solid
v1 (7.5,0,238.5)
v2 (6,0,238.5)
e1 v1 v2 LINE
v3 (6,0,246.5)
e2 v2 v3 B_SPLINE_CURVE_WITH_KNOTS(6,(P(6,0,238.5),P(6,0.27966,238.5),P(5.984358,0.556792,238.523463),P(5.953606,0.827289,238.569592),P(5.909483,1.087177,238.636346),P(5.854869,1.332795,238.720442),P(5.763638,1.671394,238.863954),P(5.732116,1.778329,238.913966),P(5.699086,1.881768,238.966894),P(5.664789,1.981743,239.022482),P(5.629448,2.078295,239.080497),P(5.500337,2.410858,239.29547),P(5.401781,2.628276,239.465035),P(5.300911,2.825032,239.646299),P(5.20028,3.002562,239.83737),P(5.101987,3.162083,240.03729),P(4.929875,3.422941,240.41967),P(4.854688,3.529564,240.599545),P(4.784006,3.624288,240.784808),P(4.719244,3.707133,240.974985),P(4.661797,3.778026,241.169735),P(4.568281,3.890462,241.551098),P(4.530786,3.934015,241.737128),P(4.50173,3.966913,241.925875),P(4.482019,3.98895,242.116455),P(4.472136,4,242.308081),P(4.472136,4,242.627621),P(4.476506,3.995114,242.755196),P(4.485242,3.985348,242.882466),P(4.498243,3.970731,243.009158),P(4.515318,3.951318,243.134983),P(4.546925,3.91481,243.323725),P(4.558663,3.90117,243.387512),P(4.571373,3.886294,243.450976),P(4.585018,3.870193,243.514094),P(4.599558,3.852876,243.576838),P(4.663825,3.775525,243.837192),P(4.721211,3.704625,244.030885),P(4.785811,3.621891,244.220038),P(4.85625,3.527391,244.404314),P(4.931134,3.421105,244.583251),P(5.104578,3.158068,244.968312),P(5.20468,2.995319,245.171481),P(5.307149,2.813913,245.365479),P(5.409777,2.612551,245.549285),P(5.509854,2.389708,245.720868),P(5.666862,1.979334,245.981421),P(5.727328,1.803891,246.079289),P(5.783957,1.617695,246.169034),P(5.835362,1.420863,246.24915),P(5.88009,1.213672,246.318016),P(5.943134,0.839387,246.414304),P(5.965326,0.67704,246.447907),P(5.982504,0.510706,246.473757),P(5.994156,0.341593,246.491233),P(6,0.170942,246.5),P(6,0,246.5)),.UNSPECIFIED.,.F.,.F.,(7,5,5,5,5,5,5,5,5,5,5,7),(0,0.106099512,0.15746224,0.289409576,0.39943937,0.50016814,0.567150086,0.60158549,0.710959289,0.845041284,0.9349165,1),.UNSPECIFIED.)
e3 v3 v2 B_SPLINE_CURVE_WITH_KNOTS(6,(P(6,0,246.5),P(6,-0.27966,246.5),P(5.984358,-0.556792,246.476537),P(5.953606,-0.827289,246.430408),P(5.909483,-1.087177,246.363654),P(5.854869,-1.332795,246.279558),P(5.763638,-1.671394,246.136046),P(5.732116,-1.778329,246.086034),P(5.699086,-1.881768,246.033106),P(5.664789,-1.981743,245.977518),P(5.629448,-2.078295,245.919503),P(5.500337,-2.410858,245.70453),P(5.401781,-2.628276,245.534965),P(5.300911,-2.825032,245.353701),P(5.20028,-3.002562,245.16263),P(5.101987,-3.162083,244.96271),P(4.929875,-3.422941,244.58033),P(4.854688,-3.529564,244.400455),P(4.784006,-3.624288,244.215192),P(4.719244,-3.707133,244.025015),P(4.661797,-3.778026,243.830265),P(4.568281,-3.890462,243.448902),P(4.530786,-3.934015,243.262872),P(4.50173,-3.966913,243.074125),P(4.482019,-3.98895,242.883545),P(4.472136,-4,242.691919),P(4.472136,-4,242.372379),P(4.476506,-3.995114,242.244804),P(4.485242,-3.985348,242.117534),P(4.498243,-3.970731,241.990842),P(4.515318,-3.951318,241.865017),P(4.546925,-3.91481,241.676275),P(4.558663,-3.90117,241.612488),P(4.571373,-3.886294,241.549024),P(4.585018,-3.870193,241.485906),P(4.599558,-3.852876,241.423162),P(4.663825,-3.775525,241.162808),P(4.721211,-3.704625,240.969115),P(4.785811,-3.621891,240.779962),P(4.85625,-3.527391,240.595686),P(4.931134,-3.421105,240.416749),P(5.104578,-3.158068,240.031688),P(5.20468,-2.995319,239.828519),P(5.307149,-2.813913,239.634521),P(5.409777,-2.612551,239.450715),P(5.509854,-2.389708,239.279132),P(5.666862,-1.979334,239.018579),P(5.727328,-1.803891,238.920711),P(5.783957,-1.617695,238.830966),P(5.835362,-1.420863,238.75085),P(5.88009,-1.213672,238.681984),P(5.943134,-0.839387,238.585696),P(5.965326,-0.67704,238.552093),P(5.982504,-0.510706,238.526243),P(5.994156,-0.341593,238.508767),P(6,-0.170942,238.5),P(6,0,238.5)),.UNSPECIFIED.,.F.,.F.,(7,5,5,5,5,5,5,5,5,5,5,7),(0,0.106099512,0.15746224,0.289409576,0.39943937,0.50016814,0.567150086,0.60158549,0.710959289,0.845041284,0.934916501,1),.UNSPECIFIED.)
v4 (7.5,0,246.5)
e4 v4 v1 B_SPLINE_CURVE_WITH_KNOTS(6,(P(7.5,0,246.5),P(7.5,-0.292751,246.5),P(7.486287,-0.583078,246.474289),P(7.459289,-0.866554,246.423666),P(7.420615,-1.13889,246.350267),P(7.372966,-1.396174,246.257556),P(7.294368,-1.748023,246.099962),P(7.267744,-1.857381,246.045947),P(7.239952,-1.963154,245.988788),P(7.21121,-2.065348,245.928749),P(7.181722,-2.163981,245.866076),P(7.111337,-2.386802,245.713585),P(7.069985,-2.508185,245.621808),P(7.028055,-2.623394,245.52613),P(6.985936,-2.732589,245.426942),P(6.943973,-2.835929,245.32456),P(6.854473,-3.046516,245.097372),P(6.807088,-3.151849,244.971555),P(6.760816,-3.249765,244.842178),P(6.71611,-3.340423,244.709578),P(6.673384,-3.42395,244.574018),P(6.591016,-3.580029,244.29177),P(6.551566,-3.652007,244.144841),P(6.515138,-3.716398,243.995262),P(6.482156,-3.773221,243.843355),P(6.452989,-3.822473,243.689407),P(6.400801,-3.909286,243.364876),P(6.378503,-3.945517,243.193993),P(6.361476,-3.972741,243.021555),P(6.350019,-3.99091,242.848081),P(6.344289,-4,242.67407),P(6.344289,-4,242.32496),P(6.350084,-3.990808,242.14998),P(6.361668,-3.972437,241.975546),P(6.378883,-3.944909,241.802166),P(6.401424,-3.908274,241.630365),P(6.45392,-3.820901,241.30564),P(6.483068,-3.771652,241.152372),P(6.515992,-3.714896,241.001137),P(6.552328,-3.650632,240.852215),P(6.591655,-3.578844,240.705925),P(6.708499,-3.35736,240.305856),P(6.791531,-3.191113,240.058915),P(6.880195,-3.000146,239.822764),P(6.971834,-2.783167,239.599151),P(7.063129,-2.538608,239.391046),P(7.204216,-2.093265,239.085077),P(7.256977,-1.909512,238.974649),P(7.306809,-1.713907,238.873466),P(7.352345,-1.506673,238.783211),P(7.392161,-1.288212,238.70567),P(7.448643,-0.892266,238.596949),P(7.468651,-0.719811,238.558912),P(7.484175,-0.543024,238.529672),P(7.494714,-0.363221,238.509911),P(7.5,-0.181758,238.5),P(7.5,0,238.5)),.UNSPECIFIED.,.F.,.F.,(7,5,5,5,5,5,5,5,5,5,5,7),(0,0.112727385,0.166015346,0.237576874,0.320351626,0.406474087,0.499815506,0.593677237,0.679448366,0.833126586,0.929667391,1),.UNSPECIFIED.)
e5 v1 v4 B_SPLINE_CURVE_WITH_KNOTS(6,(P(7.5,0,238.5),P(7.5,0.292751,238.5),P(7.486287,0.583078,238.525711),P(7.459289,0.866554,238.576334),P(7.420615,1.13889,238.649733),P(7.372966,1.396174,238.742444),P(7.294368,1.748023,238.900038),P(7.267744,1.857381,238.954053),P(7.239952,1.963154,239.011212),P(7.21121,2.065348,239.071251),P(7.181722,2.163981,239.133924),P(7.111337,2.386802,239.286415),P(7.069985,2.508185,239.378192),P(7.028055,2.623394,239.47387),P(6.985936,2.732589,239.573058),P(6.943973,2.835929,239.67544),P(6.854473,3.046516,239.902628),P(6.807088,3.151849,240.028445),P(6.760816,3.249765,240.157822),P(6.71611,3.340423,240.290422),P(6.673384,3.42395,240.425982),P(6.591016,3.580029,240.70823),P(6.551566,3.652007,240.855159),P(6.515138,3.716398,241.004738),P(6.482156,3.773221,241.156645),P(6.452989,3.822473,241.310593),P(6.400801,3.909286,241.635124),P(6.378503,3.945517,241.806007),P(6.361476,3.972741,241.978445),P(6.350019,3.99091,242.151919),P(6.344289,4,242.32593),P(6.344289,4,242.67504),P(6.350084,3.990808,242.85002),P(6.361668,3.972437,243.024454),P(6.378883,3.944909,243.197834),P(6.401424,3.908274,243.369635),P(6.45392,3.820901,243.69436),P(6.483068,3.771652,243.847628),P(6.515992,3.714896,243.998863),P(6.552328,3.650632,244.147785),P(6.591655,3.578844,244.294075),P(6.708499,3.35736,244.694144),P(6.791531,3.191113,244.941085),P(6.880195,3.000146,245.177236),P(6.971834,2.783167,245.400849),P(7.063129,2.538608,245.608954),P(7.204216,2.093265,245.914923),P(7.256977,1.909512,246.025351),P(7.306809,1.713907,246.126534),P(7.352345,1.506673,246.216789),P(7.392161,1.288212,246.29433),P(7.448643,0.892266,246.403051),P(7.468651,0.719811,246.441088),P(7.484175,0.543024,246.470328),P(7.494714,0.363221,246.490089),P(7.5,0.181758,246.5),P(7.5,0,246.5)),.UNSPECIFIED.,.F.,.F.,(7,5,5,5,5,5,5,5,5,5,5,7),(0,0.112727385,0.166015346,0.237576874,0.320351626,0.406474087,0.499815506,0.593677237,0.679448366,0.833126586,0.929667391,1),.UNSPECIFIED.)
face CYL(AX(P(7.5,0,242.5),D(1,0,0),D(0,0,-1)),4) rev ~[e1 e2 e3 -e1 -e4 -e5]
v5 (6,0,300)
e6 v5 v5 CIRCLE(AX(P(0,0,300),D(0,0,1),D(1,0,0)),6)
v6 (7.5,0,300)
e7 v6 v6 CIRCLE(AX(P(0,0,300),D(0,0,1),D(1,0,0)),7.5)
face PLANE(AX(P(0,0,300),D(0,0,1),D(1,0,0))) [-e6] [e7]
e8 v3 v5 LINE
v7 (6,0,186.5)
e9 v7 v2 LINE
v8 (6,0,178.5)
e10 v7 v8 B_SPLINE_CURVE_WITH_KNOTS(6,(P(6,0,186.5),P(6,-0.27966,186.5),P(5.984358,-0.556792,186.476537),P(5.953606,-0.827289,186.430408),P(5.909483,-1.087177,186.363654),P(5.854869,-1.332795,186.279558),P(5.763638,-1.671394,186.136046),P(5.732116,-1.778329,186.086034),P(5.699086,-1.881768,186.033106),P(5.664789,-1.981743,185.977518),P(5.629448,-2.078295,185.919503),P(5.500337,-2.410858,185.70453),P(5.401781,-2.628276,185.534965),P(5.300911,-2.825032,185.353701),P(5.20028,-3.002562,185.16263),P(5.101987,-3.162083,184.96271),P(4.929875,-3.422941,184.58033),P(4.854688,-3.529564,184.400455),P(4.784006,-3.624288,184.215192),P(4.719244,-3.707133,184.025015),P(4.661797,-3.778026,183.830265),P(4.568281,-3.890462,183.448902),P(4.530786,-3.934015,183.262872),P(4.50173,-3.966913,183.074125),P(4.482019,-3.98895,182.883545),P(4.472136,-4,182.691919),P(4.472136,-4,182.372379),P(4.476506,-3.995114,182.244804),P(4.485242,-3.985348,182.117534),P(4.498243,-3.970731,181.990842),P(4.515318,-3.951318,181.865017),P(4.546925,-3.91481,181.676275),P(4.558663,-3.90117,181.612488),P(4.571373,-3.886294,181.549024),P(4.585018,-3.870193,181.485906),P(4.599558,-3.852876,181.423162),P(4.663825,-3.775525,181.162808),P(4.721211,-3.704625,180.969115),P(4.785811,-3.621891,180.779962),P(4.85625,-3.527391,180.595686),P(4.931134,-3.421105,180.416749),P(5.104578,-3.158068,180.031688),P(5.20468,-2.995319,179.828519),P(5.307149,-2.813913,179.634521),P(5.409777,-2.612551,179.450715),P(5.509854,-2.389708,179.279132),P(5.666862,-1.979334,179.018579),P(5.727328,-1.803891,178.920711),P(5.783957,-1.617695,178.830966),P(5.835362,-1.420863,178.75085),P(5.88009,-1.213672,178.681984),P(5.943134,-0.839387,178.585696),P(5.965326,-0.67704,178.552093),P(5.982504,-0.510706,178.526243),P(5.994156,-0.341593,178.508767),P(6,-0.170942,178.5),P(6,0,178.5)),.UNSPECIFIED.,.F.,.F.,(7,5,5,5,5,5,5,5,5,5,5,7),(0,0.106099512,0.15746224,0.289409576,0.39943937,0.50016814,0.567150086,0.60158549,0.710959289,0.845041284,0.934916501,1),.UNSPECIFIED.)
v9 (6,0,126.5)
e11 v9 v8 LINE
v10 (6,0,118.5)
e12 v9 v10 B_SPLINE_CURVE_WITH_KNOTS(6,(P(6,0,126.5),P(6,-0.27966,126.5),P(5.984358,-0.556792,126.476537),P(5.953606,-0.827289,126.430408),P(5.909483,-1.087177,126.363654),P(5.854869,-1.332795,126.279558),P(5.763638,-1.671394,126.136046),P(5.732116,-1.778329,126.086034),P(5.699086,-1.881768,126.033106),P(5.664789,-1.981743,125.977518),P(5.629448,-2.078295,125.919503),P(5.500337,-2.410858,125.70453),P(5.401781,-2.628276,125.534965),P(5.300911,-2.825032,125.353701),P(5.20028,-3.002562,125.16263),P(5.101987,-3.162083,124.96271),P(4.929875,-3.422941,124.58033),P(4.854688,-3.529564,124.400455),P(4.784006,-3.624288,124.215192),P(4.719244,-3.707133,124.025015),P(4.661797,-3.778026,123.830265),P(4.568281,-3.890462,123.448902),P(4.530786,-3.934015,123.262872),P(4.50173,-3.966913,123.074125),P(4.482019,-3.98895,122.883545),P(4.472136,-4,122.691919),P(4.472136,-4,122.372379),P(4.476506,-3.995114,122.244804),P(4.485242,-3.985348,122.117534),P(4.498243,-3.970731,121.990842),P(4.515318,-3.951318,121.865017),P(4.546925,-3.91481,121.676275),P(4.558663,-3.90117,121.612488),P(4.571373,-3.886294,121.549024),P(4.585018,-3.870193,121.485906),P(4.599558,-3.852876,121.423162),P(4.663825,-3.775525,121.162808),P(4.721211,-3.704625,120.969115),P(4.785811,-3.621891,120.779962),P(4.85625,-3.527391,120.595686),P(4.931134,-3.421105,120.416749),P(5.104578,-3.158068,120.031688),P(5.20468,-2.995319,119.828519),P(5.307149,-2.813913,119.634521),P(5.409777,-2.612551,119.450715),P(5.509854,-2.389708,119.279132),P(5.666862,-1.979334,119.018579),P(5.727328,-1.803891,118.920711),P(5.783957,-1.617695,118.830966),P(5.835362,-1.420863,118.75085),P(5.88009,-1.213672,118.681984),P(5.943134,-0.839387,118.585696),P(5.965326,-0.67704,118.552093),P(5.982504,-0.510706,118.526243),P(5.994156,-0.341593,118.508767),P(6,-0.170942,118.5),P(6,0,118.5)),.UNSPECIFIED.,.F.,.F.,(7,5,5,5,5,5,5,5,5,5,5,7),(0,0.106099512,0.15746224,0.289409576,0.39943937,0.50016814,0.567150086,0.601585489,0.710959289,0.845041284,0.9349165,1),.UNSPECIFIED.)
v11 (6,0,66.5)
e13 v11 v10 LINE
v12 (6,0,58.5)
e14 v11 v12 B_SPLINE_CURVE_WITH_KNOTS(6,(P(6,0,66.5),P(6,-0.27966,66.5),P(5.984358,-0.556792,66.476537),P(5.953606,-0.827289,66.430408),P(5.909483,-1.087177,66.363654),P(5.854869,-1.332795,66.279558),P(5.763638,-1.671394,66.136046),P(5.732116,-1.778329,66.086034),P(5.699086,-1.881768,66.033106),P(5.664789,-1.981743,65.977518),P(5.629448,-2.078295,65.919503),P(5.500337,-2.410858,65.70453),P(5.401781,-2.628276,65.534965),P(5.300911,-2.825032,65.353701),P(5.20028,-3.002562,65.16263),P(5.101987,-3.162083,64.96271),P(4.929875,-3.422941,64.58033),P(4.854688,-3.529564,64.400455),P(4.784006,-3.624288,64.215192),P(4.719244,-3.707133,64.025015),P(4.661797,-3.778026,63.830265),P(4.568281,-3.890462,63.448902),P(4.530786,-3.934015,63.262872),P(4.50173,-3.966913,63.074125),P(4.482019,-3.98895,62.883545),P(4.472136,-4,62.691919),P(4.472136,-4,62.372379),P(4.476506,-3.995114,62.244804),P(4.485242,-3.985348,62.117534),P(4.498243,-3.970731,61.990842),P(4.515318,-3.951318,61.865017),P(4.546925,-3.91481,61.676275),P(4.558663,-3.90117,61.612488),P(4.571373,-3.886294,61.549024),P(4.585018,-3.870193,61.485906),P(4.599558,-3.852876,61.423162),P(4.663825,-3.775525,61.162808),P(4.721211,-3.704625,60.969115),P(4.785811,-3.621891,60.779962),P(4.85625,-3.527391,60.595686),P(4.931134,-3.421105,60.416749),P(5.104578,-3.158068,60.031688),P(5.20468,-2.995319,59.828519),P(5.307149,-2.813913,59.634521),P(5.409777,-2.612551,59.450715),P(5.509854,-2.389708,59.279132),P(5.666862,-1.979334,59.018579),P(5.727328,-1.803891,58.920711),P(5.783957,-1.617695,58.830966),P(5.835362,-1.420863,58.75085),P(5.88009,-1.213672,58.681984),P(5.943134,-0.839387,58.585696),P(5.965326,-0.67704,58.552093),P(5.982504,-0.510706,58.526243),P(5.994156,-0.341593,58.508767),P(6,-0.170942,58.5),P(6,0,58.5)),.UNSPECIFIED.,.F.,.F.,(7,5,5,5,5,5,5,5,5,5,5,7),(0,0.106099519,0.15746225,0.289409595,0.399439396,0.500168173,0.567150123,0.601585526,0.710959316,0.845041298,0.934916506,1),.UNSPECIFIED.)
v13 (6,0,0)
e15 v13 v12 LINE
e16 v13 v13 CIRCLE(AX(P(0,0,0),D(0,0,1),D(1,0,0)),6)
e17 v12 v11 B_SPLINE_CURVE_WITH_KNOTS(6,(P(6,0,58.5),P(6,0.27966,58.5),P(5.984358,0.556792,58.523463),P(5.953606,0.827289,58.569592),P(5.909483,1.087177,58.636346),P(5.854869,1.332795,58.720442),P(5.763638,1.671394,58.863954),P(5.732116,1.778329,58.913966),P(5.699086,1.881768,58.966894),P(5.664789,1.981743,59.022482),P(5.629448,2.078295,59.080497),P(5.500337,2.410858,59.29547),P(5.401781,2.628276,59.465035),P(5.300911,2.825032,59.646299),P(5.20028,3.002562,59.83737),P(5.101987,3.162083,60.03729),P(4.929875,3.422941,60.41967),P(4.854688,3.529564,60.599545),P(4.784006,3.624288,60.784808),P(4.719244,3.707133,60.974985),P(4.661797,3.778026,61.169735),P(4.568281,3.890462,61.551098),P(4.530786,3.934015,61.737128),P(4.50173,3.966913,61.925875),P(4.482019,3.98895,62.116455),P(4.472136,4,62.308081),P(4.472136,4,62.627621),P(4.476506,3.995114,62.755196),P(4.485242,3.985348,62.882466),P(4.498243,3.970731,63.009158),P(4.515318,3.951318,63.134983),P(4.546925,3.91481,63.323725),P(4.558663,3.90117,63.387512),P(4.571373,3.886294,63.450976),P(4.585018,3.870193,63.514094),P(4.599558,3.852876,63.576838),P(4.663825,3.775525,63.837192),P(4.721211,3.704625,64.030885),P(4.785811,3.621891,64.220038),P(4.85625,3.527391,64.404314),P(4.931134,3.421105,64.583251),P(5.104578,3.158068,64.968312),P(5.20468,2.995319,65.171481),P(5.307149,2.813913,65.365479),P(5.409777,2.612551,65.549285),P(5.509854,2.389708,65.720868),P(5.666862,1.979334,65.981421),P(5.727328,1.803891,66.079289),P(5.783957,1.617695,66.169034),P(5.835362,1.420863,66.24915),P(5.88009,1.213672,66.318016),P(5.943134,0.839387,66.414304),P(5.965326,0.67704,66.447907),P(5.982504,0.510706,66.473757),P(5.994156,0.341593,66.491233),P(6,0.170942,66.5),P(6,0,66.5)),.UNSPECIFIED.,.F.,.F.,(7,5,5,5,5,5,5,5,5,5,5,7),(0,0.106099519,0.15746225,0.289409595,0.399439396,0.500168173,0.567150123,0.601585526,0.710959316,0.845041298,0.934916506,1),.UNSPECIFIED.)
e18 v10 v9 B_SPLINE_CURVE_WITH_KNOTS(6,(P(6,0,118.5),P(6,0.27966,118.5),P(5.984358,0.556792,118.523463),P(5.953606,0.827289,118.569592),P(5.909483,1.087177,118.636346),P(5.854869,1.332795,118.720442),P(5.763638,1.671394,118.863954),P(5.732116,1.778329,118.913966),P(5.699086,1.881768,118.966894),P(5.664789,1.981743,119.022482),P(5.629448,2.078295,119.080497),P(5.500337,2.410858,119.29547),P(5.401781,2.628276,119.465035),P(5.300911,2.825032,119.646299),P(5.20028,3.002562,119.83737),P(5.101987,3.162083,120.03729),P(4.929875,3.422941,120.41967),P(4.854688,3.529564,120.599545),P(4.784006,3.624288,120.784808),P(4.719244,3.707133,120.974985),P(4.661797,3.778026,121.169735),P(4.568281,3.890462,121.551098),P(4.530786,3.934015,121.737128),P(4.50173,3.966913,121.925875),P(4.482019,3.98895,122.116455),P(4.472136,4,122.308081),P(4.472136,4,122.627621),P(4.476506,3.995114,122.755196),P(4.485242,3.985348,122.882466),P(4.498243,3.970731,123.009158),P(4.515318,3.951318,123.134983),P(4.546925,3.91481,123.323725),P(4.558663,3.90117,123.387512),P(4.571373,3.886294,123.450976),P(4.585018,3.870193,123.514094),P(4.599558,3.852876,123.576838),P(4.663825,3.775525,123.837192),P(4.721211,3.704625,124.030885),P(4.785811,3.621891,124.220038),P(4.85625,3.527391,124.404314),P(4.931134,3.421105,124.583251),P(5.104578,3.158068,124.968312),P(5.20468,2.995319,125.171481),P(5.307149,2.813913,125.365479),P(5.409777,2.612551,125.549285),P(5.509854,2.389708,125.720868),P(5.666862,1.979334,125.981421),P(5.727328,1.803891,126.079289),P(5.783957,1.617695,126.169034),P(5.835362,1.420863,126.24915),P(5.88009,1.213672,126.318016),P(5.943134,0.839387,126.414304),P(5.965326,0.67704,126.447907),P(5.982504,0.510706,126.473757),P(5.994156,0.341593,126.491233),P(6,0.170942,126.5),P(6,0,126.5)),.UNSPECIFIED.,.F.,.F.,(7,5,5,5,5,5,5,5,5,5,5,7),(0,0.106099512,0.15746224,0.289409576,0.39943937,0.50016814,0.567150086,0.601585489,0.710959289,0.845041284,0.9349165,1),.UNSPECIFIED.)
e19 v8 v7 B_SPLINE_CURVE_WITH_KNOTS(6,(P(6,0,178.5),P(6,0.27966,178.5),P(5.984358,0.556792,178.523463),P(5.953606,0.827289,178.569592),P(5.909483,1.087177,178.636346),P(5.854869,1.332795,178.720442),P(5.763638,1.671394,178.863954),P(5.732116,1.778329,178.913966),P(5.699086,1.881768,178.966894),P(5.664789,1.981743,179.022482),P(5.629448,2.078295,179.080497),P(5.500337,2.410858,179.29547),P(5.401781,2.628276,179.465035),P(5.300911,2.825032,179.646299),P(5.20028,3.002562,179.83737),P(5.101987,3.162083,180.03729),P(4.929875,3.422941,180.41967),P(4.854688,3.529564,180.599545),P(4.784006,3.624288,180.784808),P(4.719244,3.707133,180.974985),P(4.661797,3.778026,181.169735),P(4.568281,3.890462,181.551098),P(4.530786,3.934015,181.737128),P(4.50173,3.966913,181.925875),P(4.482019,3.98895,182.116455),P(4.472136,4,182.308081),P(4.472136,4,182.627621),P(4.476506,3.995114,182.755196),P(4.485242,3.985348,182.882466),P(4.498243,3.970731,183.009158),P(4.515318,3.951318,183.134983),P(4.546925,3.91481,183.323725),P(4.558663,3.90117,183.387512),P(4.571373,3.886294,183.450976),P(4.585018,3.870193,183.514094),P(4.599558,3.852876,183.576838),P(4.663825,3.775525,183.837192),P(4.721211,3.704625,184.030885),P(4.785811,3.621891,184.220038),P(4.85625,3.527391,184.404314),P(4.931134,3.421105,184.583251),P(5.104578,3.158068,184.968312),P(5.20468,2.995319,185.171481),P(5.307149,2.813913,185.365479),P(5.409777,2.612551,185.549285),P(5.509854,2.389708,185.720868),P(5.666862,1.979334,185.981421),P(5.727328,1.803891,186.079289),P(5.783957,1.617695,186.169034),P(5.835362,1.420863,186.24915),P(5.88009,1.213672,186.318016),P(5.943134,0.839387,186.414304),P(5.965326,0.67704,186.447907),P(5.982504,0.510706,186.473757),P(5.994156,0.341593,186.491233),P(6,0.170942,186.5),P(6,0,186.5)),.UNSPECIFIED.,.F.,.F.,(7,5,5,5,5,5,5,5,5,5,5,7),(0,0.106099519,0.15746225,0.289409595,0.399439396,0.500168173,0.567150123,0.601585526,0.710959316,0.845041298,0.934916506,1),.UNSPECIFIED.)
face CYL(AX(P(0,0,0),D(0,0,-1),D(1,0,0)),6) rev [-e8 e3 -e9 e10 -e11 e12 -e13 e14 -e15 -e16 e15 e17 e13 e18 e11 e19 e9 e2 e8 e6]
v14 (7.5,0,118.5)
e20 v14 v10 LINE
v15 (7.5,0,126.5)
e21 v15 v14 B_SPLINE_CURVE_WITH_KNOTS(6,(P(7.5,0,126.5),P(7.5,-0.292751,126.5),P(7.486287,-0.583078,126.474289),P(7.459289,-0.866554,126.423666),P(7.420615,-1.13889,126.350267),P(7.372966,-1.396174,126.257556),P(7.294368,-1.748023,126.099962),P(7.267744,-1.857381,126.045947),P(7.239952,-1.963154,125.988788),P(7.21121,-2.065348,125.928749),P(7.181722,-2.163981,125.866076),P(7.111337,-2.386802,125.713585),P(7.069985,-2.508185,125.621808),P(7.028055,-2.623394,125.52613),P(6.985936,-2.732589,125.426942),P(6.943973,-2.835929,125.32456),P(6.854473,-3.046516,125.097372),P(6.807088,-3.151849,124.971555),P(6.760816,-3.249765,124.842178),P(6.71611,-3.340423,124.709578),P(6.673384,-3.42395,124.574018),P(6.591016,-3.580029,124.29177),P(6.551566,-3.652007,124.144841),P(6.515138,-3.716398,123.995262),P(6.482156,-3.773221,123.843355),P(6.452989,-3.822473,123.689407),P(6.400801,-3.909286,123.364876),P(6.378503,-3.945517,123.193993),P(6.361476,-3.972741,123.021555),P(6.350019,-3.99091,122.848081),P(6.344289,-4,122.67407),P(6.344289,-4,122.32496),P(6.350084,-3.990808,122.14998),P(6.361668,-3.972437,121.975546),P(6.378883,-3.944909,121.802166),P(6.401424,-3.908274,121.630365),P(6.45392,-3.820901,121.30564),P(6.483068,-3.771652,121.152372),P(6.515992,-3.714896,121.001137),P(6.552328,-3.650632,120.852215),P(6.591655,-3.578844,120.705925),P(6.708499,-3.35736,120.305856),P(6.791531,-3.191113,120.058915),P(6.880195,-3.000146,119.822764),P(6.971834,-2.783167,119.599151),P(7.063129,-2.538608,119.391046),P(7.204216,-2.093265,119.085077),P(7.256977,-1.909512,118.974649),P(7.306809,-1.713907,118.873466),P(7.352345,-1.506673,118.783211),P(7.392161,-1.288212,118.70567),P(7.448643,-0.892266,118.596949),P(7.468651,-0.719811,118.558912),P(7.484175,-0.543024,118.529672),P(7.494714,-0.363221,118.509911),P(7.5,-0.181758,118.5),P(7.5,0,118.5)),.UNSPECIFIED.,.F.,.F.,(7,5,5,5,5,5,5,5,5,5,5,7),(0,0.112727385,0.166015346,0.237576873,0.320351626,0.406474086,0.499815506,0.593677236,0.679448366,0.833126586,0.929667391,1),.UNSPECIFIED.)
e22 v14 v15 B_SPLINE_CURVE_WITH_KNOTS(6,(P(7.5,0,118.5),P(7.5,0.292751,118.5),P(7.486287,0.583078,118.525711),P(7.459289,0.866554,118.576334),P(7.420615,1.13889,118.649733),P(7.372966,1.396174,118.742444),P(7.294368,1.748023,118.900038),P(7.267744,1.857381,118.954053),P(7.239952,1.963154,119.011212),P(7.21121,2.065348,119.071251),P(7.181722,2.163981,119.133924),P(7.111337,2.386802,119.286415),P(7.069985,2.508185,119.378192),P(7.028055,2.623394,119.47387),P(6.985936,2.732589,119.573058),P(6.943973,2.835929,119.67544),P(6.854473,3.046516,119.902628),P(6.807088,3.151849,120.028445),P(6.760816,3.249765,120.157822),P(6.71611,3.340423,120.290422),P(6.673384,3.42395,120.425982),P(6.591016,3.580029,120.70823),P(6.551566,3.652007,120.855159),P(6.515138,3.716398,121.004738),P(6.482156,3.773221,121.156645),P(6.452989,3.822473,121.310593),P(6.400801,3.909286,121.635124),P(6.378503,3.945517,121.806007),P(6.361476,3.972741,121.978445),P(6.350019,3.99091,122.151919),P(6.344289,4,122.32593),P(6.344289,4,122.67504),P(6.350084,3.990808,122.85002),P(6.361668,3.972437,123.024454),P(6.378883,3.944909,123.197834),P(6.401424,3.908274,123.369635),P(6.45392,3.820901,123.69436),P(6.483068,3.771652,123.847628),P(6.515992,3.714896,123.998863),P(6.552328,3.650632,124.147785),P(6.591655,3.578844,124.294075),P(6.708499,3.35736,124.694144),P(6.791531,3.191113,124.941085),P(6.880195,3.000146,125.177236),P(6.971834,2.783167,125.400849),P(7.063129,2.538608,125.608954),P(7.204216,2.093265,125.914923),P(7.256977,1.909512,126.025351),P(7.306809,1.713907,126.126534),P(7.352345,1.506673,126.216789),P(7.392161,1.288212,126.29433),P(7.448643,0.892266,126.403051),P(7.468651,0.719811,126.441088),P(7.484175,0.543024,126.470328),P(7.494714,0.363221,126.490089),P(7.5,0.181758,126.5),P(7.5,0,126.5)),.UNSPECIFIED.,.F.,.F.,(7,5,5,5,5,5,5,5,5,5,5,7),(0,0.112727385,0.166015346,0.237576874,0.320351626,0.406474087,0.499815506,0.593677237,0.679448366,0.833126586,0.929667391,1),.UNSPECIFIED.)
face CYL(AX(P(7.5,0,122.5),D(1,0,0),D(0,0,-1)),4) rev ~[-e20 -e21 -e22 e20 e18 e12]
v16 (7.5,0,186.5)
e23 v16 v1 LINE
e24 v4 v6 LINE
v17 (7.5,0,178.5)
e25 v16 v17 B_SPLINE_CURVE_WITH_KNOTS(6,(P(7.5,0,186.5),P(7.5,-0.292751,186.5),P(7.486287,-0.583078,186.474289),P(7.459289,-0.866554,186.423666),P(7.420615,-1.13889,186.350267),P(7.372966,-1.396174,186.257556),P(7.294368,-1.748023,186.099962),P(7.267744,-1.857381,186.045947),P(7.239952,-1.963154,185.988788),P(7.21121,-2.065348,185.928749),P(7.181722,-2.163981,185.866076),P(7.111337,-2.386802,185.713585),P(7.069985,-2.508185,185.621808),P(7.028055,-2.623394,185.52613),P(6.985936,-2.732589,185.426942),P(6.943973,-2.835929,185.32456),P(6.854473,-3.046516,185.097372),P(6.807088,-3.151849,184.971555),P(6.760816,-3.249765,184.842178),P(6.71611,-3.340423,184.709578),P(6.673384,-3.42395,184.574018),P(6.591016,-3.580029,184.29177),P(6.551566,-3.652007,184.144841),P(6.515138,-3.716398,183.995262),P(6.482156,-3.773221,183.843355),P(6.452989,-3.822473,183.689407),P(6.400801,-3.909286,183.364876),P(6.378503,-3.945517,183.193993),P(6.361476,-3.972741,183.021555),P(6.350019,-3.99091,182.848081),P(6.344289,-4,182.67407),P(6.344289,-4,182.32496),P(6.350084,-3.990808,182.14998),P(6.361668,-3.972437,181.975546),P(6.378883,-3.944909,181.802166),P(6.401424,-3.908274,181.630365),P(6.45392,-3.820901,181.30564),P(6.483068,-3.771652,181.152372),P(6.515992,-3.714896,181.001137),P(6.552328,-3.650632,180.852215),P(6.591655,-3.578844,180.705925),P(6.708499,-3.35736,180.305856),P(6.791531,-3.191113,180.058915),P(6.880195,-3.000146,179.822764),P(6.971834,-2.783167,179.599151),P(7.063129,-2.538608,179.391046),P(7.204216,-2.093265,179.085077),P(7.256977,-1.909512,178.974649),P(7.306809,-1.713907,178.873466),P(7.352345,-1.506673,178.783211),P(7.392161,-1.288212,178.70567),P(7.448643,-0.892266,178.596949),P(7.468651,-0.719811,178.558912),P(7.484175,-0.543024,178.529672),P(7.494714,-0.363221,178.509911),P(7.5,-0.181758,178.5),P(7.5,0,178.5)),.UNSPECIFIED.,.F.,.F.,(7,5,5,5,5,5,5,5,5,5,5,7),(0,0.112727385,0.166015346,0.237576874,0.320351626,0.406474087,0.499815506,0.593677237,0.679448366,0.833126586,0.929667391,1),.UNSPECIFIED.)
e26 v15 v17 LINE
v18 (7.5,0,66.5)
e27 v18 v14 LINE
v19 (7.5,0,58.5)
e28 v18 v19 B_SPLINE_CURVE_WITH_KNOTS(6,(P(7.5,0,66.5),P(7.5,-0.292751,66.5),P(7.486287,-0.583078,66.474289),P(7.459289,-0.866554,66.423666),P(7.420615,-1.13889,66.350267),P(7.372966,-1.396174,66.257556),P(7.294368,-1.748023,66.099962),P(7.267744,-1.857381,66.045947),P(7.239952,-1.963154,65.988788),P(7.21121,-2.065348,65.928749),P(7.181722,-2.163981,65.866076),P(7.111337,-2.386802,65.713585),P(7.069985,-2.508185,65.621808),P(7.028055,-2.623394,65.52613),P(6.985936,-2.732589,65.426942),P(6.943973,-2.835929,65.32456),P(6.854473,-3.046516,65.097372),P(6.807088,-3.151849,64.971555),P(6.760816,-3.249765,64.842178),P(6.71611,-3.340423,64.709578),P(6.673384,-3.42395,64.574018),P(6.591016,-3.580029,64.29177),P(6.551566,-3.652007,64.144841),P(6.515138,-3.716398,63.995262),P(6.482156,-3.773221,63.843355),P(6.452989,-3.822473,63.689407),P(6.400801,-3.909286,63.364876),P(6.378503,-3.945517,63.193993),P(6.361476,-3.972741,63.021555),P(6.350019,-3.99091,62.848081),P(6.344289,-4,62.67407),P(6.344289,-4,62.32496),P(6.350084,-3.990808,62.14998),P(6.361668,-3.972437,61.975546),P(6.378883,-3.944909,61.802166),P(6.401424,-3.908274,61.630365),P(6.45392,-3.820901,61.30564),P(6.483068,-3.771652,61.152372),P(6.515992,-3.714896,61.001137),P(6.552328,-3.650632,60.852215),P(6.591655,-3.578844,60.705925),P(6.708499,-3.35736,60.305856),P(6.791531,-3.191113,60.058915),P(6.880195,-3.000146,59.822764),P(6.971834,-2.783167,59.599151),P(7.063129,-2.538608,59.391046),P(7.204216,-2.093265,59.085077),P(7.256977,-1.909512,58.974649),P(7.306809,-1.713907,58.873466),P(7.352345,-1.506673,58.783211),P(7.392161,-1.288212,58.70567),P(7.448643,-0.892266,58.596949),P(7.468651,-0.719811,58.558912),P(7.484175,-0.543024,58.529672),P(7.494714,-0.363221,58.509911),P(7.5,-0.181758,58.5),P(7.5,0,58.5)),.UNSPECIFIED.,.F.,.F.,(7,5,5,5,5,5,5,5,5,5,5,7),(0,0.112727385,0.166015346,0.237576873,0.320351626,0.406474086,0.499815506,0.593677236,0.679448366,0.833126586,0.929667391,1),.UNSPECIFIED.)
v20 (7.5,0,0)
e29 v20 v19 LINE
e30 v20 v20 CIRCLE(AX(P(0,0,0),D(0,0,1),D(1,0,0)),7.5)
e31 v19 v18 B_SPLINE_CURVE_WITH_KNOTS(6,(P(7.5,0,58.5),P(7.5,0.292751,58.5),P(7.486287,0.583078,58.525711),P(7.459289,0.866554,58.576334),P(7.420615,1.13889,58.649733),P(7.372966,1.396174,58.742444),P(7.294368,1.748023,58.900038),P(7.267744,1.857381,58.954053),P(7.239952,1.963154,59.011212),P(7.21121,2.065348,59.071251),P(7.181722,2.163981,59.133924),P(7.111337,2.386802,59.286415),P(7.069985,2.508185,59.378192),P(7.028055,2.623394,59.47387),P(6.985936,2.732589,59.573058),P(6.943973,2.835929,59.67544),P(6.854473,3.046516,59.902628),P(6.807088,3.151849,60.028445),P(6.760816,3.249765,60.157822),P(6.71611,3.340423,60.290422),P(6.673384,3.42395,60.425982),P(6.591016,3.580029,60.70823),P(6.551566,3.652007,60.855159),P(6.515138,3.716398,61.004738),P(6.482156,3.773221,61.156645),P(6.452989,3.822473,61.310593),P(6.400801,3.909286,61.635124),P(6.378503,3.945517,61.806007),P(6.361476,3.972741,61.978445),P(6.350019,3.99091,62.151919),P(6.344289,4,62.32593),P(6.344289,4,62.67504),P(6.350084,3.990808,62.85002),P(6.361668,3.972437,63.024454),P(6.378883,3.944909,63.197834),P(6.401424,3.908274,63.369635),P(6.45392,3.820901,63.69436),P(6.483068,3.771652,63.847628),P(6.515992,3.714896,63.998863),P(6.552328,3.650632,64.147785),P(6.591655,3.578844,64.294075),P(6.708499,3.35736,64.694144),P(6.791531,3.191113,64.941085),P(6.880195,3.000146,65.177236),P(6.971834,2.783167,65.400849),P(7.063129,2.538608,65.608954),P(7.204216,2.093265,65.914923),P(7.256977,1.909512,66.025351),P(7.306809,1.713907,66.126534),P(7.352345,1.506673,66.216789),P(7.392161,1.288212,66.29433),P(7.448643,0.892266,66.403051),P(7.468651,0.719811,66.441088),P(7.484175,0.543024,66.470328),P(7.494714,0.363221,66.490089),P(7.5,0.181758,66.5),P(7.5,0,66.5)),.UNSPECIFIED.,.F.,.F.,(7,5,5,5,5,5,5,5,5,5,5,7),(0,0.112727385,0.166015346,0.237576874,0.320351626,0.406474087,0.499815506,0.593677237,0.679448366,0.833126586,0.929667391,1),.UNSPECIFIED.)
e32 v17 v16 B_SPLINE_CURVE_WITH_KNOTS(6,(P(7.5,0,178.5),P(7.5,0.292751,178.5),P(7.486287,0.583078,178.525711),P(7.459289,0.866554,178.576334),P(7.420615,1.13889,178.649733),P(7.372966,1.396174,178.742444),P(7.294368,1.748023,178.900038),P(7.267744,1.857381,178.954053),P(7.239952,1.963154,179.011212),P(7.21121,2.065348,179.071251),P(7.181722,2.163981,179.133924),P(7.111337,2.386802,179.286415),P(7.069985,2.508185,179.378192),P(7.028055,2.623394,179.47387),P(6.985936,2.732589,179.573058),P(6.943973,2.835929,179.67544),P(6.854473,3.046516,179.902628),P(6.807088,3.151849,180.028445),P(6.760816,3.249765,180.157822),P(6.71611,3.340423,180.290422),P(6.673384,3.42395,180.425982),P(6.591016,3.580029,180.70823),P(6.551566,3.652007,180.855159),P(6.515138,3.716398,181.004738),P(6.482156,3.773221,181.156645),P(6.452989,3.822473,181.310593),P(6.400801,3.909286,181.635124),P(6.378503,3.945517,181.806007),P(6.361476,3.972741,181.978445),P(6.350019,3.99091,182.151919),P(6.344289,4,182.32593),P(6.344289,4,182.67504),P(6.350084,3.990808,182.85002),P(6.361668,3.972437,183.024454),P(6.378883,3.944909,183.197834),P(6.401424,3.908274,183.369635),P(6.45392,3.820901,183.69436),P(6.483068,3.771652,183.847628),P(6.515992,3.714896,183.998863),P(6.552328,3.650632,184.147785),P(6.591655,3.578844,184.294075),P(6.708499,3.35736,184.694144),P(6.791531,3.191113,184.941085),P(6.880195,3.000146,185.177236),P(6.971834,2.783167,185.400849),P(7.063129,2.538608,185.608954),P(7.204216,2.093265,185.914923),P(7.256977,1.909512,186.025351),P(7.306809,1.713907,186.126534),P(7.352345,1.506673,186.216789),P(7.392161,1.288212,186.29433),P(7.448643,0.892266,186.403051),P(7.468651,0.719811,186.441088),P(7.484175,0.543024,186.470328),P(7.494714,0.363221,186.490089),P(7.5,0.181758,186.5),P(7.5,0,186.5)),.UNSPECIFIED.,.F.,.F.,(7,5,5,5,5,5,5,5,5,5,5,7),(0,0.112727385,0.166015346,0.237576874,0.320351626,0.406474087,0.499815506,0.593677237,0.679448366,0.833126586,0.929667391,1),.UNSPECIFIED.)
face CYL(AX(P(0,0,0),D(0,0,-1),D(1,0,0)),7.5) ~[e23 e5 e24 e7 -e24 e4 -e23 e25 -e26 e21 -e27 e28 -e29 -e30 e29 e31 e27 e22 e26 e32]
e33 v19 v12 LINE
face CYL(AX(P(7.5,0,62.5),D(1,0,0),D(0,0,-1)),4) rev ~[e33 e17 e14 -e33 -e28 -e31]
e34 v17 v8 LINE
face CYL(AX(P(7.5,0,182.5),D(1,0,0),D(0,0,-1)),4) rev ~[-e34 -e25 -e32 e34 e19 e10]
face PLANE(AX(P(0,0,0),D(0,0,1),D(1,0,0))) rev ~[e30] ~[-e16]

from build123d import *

# Parameters (mm, degrees)
SKETCH1_R           = 7.5
SKETCH1_R_2         = 6
BOSS_EXTRUDE1_DEPTH = 300
SKETCH2_R           = 4
CUT_EXTRUDE1_DEPTH  = 6


with BuildPart() as part:
    # Sketch1 → Boss-Extrude1 (new body)
    with BuildSketch(Plane.XY):
        Circle(SKETCH1_R)
        Circle(SKETCH1_R_2, mode=Mode.SUBTRACT)
    extrude(amount=BOSS_EXTRUDE1_DEPTH)

    # Sketch2 → Cut-Extrude1 (cut)
    with BuildSketch(Plane(origin=(7.5, 0, 0), x_dir=(0, 0, -1), z_dir=(1, 0, 0))):
        with Locations((-242.5, 0)):
            Circle(SKETCH2_R)
        with Locations((-182.5, 0)):
            Circle(SKETCH2_R)
        with Locations((-122.5, 0)):
            Circle(SKETCH2_R)
        with Locations((-62.5, 0)):
            Circle(SKETCH2_R)
    extrude(amount=-CUT_EXTRUDE1_DEPTH, mode=Mode.SUBTRACT)


solid = part.part
